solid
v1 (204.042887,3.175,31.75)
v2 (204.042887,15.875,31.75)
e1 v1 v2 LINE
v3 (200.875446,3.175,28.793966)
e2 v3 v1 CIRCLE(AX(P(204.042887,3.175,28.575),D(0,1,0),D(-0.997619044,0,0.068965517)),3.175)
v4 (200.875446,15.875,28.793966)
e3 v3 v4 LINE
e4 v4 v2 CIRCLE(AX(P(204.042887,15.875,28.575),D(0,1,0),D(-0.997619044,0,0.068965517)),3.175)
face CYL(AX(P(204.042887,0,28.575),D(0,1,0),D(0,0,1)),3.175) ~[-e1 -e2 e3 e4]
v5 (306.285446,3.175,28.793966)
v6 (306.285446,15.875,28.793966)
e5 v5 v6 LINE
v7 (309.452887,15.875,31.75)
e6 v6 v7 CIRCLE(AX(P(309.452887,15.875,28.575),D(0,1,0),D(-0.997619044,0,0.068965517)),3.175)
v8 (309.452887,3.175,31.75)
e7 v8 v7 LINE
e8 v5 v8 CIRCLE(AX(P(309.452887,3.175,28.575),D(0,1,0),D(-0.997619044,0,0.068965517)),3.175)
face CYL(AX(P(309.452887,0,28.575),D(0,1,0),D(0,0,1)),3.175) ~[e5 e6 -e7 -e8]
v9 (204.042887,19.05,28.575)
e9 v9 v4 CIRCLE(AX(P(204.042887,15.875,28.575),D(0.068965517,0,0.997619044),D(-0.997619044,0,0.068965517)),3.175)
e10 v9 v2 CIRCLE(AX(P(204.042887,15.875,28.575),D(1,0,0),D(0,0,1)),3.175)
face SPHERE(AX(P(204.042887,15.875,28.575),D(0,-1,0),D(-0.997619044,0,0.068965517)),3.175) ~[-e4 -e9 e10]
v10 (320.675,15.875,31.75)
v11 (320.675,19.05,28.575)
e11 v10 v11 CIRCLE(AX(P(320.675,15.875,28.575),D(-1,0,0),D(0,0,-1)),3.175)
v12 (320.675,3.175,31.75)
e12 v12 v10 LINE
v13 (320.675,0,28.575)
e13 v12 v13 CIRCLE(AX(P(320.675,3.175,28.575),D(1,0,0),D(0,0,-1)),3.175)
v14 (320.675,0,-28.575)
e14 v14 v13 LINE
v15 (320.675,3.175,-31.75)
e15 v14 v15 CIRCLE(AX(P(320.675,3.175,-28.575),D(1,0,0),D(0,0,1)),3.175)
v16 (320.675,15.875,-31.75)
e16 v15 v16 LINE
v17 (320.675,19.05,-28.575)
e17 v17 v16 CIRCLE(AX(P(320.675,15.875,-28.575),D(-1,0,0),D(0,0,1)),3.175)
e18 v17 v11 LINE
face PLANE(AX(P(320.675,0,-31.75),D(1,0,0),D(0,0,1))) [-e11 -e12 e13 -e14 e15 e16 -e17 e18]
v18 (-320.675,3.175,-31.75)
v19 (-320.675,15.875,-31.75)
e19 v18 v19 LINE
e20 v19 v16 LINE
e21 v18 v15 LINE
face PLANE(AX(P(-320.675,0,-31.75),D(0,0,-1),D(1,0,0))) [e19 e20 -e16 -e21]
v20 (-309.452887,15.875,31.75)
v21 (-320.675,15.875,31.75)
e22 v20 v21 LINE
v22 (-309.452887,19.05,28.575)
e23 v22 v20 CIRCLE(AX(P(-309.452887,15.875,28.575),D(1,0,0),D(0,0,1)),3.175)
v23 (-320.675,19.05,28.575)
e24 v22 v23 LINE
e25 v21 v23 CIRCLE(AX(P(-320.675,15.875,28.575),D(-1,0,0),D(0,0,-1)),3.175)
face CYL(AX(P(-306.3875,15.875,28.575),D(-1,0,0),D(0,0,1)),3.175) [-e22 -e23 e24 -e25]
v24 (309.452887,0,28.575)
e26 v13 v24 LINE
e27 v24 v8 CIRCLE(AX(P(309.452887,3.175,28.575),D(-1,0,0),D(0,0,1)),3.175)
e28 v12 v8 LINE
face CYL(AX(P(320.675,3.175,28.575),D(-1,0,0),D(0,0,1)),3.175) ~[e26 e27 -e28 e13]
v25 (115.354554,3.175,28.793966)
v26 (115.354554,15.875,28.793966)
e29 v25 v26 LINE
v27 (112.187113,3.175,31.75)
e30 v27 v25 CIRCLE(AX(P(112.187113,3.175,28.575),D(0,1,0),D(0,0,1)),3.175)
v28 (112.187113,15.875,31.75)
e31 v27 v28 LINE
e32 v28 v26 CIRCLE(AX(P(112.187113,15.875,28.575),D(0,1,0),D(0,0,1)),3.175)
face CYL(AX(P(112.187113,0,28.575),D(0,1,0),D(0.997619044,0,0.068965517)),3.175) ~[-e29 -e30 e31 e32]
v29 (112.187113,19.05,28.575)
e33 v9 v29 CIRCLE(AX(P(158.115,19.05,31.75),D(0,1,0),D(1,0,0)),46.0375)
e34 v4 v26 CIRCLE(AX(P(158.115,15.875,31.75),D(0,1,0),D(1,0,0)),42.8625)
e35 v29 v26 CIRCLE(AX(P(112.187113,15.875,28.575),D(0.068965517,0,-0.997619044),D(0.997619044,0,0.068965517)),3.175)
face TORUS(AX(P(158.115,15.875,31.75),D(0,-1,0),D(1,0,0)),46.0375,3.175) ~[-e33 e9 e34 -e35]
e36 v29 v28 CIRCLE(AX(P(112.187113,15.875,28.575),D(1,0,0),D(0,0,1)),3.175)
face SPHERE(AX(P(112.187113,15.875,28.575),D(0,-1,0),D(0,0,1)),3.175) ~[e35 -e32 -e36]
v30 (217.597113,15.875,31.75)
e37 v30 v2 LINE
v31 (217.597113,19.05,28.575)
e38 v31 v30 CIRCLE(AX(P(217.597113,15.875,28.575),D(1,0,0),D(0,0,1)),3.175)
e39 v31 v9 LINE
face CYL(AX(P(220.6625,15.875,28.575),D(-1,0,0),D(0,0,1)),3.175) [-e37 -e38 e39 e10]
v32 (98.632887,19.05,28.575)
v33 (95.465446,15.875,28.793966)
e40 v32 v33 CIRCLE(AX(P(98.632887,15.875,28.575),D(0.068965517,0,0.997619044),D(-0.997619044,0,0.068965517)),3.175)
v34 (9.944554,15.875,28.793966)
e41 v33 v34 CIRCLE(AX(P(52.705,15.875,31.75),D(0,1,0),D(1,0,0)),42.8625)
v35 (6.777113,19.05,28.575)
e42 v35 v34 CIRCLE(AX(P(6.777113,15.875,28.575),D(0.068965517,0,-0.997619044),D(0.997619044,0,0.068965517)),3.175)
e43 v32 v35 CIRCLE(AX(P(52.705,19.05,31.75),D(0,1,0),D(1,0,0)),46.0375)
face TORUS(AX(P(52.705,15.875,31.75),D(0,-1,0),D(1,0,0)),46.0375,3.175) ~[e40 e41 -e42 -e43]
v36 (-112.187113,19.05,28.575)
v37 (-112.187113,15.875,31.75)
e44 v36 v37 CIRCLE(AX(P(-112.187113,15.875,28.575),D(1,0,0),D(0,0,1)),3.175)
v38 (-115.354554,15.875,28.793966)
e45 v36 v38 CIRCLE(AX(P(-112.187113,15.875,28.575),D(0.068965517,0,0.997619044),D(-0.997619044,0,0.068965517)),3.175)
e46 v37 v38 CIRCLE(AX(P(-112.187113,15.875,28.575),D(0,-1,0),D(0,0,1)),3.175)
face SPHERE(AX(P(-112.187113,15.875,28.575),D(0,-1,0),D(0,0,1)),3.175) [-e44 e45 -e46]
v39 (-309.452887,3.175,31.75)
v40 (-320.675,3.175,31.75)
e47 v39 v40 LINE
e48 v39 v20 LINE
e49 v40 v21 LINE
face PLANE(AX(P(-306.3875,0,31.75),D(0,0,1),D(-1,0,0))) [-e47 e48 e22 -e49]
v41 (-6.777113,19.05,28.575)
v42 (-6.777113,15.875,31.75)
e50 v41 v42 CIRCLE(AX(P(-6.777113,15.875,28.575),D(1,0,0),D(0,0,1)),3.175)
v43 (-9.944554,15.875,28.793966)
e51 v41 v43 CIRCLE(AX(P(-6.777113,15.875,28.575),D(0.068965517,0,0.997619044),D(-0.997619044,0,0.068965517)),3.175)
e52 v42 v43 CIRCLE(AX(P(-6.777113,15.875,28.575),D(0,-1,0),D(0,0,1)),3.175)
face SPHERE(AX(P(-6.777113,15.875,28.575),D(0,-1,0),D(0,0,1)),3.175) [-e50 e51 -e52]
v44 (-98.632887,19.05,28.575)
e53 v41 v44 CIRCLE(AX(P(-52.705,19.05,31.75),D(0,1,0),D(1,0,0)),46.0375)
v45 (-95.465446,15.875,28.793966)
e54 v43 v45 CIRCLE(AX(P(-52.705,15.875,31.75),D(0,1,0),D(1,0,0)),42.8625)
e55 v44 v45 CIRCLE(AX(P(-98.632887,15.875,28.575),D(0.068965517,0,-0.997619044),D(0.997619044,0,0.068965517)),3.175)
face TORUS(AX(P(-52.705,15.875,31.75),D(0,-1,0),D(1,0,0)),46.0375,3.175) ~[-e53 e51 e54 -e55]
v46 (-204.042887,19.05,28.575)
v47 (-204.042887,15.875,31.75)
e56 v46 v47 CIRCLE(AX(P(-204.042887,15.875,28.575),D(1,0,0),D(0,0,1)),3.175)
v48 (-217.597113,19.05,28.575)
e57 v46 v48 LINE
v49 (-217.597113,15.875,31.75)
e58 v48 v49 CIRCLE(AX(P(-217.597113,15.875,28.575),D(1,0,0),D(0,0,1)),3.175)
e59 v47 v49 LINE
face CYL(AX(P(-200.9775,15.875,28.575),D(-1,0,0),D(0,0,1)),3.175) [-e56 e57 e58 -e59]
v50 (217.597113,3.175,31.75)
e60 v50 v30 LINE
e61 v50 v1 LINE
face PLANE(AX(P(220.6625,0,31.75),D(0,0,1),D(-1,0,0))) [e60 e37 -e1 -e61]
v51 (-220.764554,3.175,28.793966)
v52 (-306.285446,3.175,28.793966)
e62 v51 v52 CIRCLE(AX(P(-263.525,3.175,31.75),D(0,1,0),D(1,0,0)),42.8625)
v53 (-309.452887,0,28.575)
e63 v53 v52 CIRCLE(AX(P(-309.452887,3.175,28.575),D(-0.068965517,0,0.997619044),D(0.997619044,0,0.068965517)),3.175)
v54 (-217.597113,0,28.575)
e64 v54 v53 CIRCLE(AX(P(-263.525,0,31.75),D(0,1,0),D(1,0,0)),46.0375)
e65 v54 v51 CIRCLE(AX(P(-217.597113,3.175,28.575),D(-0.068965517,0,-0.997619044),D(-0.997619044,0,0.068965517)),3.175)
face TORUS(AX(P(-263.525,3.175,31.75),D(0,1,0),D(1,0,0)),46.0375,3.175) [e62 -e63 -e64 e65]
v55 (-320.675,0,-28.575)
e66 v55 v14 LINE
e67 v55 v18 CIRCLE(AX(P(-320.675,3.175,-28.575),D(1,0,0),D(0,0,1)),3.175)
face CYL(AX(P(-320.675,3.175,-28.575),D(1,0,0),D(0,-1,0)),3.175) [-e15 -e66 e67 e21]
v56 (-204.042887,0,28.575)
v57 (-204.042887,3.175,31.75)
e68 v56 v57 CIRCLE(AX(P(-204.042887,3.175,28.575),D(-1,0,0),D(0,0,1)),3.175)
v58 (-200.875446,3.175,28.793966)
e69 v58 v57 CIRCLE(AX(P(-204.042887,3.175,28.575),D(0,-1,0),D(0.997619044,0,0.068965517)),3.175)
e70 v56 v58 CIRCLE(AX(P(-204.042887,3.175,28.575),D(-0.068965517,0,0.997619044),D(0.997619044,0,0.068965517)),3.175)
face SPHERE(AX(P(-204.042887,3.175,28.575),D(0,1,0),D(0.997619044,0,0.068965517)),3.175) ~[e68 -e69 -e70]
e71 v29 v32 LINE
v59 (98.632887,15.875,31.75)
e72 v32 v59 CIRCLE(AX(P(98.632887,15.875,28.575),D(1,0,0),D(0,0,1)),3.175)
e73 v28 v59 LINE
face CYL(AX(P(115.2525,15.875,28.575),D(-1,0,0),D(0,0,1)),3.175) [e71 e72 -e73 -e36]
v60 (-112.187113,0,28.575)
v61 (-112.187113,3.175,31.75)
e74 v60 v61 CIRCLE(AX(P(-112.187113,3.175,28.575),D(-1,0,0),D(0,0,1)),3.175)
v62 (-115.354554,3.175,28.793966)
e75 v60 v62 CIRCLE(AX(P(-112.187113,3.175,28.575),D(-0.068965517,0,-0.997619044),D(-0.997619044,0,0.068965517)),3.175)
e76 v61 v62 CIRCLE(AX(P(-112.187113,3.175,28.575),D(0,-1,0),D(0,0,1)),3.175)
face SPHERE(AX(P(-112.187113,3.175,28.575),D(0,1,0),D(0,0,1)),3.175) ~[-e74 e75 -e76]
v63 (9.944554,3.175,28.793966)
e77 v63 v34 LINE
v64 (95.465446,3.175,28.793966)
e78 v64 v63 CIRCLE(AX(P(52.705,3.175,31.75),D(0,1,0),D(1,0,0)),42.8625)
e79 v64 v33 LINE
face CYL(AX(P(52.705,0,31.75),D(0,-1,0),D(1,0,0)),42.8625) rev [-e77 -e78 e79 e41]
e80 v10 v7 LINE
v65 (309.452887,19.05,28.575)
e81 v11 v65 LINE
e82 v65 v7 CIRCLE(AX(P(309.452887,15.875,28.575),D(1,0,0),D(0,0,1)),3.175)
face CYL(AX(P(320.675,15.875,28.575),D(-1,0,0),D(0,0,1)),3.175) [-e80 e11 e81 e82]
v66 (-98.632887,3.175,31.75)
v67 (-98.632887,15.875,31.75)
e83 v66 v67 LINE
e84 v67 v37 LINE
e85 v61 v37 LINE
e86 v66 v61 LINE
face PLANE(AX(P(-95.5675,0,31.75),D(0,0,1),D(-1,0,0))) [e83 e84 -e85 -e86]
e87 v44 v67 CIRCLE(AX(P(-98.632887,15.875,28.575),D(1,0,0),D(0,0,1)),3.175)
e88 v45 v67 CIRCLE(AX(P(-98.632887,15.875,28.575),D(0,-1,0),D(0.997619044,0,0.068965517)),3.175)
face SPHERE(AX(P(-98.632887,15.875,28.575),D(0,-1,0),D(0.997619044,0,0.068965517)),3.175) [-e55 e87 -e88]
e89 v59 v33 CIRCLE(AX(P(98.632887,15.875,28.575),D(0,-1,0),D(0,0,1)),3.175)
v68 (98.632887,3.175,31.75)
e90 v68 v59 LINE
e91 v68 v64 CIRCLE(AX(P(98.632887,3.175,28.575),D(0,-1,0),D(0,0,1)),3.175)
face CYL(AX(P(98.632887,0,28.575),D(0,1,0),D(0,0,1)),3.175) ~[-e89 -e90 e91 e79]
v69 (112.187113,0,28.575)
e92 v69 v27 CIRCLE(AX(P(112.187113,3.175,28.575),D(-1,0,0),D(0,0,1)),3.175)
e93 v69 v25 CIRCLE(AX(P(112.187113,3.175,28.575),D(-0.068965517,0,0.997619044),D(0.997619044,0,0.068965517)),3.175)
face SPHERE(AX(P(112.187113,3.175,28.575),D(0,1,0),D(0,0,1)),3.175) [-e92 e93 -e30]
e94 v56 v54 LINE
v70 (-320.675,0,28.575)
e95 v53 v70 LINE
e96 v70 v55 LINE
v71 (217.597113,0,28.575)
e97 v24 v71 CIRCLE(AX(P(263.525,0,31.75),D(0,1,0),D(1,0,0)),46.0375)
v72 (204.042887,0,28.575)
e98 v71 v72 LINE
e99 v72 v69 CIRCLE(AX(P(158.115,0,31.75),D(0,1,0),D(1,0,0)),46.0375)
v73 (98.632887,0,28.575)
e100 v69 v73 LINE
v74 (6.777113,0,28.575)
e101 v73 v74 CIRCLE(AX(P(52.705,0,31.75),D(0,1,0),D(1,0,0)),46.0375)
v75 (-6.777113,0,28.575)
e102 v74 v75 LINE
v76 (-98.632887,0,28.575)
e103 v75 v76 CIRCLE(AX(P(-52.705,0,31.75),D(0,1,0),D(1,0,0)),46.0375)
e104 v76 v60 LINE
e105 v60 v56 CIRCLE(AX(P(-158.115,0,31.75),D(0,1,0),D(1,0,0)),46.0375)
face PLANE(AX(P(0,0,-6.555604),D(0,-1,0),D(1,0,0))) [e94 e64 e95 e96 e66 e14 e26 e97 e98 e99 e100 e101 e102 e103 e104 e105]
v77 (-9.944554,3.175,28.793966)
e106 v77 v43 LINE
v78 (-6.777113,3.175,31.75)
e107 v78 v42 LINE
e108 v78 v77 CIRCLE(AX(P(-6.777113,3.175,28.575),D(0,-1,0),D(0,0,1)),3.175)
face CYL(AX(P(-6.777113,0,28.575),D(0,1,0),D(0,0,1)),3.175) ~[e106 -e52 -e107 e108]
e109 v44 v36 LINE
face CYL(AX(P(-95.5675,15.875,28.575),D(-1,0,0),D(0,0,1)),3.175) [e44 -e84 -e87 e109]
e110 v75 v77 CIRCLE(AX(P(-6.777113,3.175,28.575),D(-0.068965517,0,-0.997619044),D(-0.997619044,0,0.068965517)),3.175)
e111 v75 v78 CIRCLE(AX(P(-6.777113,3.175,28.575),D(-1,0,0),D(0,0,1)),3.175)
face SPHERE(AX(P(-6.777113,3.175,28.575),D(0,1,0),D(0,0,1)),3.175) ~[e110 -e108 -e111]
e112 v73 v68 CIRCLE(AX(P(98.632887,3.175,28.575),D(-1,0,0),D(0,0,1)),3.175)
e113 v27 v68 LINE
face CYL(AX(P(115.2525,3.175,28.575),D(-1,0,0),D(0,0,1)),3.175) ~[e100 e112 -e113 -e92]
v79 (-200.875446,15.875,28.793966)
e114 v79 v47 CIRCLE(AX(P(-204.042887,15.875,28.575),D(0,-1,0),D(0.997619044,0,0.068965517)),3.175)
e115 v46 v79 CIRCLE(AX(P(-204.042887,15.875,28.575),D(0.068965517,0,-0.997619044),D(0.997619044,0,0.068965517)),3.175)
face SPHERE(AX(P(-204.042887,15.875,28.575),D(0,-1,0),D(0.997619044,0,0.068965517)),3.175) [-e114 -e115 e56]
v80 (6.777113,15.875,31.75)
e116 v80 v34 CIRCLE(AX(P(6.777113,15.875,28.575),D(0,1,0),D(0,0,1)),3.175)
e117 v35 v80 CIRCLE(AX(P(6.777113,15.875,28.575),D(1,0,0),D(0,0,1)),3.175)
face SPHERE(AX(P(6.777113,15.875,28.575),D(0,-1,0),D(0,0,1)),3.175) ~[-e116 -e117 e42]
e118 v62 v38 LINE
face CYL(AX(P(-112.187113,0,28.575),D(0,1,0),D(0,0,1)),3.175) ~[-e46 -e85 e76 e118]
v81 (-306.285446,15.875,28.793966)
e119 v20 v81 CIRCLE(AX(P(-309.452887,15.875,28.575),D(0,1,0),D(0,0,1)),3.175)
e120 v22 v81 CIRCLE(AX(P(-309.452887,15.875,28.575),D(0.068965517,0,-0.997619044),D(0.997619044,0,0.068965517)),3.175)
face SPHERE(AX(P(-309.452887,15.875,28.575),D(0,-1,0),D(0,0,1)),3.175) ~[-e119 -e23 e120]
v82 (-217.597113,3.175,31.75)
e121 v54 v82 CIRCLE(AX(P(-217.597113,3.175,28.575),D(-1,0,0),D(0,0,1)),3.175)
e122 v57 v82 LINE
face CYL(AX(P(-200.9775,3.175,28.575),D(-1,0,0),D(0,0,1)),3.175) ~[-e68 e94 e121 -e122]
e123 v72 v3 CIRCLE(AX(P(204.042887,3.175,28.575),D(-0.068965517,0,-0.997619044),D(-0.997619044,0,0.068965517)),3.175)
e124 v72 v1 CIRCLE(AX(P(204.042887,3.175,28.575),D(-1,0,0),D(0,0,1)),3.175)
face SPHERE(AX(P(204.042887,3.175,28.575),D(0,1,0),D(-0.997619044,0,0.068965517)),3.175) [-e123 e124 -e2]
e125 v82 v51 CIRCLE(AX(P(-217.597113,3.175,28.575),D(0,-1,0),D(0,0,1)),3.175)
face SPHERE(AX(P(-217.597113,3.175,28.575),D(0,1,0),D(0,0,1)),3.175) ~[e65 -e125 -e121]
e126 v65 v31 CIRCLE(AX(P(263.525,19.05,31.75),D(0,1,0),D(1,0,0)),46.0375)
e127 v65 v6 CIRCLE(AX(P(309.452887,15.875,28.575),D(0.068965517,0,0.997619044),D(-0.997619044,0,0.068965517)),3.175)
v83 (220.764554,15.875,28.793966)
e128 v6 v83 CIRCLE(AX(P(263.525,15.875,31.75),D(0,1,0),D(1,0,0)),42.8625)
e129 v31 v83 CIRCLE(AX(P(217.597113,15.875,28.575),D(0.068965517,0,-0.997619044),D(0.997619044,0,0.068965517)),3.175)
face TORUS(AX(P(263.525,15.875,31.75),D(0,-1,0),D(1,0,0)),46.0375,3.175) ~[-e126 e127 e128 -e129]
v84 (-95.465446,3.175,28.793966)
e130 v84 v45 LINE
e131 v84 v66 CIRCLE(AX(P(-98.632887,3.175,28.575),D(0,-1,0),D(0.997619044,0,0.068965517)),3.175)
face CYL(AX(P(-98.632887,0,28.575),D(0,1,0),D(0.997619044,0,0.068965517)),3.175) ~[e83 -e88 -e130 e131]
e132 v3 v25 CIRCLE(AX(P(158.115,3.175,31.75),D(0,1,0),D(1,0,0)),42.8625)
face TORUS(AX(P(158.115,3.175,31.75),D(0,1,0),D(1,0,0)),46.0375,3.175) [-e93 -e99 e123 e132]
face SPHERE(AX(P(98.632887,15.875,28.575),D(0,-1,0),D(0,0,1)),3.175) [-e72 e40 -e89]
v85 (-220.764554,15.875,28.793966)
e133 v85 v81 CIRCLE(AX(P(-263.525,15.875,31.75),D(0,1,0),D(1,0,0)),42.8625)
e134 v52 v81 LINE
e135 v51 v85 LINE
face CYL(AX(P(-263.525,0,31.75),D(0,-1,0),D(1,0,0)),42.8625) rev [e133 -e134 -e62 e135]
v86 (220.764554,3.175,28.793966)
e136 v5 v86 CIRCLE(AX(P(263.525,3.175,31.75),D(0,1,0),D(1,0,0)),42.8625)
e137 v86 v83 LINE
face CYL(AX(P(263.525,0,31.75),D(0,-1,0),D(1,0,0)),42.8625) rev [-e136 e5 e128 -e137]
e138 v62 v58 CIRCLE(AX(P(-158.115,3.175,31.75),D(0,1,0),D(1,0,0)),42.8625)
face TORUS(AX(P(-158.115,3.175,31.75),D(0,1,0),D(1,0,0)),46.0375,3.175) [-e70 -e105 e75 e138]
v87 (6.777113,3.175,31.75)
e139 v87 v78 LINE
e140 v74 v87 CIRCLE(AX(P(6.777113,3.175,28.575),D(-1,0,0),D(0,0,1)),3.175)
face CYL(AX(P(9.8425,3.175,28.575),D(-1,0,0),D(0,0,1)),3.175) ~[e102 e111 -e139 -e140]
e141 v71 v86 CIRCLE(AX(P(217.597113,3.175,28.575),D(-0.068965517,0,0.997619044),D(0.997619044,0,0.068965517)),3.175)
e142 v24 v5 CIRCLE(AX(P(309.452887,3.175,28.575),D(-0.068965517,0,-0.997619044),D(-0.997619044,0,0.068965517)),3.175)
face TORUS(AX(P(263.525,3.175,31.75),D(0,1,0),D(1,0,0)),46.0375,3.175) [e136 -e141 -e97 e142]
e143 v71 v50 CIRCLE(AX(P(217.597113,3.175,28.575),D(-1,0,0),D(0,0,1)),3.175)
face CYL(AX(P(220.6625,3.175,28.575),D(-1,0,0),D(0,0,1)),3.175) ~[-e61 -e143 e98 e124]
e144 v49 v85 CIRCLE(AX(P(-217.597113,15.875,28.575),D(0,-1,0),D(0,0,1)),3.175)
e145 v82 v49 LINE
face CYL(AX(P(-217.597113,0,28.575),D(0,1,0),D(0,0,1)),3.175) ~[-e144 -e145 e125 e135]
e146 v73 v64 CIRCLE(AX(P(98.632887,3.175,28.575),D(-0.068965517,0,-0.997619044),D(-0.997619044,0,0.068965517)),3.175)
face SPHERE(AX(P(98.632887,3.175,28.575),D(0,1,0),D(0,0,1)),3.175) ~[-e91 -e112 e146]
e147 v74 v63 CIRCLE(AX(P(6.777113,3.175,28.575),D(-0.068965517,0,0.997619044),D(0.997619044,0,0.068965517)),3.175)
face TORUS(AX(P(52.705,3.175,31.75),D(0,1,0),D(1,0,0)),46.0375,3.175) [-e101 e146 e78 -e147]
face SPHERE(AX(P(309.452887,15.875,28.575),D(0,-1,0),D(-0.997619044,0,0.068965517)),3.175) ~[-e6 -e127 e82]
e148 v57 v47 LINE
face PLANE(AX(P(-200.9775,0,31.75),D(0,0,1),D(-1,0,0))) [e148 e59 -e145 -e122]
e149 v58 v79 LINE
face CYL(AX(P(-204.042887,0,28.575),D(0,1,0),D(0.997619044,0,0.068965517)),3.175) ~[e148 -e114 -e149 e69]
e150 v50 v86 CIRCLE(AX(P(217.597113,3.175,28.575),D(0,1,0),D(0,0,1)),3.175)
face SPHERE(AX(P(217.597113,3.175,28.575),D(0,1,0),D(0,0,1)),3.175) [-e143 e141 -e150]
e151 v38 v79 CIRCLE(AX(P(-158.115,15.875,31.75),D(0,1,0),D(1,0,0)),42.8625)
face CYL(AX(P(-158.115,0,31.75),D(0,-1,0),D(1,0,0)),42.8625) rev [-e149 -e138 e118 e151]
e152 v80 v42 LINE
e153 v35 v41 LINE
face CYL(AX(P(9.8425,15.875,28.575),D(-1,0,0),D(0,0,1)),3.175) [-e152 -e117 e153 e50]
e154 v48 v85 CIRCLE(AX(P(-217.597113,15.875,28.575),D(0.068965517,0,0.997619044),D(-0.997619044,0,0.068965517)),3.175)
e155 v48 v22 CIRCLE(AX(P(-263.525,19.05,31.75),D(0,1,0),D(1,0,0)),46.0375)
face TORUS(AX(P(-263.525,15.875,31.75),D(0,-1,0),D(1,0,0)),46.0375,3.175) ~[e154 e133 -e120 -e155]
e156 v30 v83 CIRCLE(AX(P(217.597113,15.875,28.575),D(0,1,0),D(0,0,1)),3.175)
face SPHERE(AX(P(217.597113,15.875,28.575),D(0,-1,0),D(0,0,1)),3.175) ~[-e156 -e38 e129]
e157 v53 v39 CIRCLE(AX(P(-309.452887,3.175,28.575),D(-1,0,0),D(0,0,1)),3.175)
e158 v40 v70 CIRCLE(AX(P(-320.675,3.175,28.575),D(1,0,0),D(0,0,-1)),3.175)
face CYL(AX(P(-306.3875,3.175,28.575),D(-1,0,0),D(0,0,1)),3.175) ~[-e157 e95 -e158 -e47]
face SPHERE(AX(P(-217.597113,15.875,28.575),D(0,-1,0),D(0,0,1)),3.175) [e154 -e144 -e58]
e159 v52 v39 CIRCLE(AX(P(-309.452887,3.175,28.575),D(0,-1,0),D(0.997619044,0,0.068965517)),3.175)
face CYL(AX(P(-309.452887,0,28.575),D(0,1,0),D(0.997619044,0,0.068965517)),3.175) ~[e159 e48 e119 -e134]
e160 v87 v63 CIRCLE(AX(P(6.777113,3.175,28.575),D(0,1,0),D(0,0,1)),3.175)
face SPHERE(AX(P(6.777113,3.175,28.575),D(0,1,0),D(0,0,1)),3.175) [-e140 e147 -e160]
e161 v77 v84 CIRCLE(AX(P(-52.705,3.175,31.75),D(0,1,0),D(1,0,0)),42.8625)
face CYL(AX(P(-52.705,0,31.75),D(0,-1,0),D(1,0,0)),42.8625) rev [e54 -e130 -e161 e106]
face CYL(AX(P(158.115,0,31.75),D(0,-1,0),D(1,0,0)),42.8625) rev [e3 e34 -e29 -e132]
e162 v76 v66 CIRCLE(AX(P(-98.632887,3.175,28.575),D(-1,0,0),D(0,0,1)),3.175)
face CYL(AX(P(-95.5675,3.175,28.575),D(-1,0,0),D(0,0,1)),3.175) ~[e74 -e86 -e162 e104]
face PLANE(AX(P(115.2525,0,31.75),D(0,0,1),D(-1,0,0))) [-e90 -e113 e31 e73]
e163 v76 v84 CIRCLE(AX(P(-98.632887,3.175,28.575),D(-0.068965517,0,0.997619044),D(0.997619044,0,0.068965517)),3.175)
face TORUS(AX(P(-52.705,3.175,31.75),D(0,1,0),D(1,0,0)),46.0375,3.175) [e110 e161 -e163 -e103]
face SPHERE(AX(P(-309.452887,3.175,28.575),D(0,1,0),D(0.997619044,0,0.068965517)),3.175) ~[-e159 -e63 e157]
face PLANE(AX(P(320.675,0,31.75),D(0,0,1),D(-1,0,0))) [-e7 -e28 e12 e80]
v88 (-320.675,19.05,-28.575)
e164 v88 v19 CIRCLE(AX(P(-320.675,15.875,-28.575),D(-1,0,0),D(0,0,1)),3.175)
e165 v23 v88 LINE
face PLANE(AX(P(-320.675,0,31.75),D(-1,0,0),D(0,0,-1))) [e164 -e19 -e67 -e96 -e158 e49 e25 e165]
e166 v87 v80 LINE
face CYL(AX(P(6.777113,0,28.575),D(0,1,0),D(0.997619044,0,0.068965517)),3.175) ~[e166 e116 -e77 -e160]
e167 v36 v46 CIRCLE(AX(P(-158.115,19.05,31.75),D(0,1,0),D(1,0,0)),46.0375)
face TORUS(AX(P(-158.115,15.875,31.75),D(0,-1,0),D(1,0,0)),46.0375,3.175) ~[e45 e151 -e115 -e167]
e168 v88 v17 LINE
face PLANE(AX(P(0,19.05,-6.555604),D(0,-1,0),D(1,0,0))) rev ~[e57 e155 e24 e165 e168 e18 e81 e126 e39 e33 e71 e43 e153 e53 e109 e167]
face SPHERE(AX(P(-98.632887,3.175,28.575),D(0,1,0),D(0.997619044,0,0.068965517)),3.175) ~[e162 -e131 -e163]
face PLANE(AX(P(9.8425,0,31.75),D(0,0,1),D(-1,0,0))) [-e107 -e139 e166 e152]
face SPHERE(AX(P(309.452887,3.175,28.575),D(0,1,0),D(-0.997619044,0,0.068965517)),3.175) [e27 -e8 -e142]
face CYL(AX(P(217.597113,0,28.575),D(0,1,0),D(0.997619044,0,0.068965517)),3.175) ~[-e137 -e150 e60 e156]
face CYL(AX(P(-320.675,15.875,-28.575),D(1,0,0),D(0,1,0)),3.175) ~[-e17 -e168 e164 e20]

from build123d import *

# Parameters (mm, degrees)
F1_DEPTH = 19.05
F2_R     = 3.175
F3_R     = 3.175


with BuildPart() as f1:
    # F0 (on Front) → F1 (new body)
    with BuildSketch(Plane.XZ):
        with BuildLine():
            Line((-320.675, 31.75), (-320.675, -31.75))
            Line((-320.675, -31.75), (320.675, -31.75))
            Line((320.675, -31.75), (320.675, 31.75))
            Line((320.675, 31.75), (306.3875, 31.75))
            ThreePointArc((306.3875, 31.75), (263.525, -11.1125), (220.6625, 31.75))
            Line((220.6625, 31.75), (200.9775, 31.75))
            ThreePointArc((200.9775, 31.75), (158.115, -11.1125), (115.2525, 31.75))
            Line((115.2525, 31.75), (95.5675, 31.75))
            ThreePointArc((95.5675, 31.75), (52.705, -11.1125), (9.8425, 31.75))
            Line((9.8425, 31.75), (-9.8425, 31.75))
            ThreePointArc((-9.8425, 31.75), (-52.705, -11.1125), (-95.5675, 31.75))
            Line((-95.5675, 31.75), (-115.2525, 31.75))
            ThreePointArc((-115.2525, 31.75), (-158.115, -11.1125), (-200.9775, 31.75))
            Line((-200.9775, 31.75), (-220.6625, 31.75))
            ThreePointArc((-220.6625, 31.75), (-263.525, -11.1125), (-306.3875, 31.75))
            Line((-306.3875, 31.75), (-320.675, 31.75))
        make_face()
    extrude(amount=-F1_DEPTH)

    # F2
    f2_edges = [f1.edges().sort_by_distance(p)[0] for p in [
        (-313.53125, 0, 31.75),
        (-306.3875, 9.525, 31.75),
        (-313.53125, 19.05, 31.75),
        (-263.525, 19.05, -11.1125),
        (-263.525, 0, -11.1125),
        (-220.6625, 9.525, 31.75),
        (-210.82, 19.05, 31.75),
        (-210.82, 0, 31.75),
        (-200.9775, 9.525, 31.75),
        (-158.115, 19.05, -11.1125),
        (-158.115, 0, -11.1125),
        (-115.2525, 9.525, 31.75),
        (-105.41, 0, 31.75),
        (-105.41, 19.05, 31.75),
        (-95.5675, 9.525, 31.75),
        (-52.705, 19.05, -11.1125),
        (-52.705, 0, -11.1125),
        (-9.8425, 9.525, 31.75),
        (9.8425, 9.525, 31.75),
        (0, 0, 31.75),
        (0, 19.05, 31.75),
        (52.705, 0, -11.1125),
        (52.705, 19.05, -11.1125),
        (115.2525, 9.525, 31.75),
        (95.5675, 9.525, 31.75),
        (105.41, 0, 31.75),
        (105.41, 19.05, 31.75),
        (200.9775, 9.525, 31.75),
        (158.115, 0, -11.1125),
        (158.115, 19.05, -11.1125),
        (220.6625, 9.525, 31.75),
        (210.82, 0, 31.75),
        (210.82, 19.05, 31.75),
        (306.3875, 9.525, 31.75),
        (263.525, 0, -11.1125),
        (263.525, 19.05, -11.1125),
        (313.53125, 19.05, 31.75),
        (313.53125, 0, 31.75),
    ]]
    fillet(f2_edges, radius=F2_R)

    # F3
    f3_edges = [f1.edges().sort_by_distance(p)[0] for p in [
        (0, 0, -31.75),
        (0, 19.05, -31.75),
    ]]
    fillet(f3_edges, radius=F3_R)


solid = f1.part
